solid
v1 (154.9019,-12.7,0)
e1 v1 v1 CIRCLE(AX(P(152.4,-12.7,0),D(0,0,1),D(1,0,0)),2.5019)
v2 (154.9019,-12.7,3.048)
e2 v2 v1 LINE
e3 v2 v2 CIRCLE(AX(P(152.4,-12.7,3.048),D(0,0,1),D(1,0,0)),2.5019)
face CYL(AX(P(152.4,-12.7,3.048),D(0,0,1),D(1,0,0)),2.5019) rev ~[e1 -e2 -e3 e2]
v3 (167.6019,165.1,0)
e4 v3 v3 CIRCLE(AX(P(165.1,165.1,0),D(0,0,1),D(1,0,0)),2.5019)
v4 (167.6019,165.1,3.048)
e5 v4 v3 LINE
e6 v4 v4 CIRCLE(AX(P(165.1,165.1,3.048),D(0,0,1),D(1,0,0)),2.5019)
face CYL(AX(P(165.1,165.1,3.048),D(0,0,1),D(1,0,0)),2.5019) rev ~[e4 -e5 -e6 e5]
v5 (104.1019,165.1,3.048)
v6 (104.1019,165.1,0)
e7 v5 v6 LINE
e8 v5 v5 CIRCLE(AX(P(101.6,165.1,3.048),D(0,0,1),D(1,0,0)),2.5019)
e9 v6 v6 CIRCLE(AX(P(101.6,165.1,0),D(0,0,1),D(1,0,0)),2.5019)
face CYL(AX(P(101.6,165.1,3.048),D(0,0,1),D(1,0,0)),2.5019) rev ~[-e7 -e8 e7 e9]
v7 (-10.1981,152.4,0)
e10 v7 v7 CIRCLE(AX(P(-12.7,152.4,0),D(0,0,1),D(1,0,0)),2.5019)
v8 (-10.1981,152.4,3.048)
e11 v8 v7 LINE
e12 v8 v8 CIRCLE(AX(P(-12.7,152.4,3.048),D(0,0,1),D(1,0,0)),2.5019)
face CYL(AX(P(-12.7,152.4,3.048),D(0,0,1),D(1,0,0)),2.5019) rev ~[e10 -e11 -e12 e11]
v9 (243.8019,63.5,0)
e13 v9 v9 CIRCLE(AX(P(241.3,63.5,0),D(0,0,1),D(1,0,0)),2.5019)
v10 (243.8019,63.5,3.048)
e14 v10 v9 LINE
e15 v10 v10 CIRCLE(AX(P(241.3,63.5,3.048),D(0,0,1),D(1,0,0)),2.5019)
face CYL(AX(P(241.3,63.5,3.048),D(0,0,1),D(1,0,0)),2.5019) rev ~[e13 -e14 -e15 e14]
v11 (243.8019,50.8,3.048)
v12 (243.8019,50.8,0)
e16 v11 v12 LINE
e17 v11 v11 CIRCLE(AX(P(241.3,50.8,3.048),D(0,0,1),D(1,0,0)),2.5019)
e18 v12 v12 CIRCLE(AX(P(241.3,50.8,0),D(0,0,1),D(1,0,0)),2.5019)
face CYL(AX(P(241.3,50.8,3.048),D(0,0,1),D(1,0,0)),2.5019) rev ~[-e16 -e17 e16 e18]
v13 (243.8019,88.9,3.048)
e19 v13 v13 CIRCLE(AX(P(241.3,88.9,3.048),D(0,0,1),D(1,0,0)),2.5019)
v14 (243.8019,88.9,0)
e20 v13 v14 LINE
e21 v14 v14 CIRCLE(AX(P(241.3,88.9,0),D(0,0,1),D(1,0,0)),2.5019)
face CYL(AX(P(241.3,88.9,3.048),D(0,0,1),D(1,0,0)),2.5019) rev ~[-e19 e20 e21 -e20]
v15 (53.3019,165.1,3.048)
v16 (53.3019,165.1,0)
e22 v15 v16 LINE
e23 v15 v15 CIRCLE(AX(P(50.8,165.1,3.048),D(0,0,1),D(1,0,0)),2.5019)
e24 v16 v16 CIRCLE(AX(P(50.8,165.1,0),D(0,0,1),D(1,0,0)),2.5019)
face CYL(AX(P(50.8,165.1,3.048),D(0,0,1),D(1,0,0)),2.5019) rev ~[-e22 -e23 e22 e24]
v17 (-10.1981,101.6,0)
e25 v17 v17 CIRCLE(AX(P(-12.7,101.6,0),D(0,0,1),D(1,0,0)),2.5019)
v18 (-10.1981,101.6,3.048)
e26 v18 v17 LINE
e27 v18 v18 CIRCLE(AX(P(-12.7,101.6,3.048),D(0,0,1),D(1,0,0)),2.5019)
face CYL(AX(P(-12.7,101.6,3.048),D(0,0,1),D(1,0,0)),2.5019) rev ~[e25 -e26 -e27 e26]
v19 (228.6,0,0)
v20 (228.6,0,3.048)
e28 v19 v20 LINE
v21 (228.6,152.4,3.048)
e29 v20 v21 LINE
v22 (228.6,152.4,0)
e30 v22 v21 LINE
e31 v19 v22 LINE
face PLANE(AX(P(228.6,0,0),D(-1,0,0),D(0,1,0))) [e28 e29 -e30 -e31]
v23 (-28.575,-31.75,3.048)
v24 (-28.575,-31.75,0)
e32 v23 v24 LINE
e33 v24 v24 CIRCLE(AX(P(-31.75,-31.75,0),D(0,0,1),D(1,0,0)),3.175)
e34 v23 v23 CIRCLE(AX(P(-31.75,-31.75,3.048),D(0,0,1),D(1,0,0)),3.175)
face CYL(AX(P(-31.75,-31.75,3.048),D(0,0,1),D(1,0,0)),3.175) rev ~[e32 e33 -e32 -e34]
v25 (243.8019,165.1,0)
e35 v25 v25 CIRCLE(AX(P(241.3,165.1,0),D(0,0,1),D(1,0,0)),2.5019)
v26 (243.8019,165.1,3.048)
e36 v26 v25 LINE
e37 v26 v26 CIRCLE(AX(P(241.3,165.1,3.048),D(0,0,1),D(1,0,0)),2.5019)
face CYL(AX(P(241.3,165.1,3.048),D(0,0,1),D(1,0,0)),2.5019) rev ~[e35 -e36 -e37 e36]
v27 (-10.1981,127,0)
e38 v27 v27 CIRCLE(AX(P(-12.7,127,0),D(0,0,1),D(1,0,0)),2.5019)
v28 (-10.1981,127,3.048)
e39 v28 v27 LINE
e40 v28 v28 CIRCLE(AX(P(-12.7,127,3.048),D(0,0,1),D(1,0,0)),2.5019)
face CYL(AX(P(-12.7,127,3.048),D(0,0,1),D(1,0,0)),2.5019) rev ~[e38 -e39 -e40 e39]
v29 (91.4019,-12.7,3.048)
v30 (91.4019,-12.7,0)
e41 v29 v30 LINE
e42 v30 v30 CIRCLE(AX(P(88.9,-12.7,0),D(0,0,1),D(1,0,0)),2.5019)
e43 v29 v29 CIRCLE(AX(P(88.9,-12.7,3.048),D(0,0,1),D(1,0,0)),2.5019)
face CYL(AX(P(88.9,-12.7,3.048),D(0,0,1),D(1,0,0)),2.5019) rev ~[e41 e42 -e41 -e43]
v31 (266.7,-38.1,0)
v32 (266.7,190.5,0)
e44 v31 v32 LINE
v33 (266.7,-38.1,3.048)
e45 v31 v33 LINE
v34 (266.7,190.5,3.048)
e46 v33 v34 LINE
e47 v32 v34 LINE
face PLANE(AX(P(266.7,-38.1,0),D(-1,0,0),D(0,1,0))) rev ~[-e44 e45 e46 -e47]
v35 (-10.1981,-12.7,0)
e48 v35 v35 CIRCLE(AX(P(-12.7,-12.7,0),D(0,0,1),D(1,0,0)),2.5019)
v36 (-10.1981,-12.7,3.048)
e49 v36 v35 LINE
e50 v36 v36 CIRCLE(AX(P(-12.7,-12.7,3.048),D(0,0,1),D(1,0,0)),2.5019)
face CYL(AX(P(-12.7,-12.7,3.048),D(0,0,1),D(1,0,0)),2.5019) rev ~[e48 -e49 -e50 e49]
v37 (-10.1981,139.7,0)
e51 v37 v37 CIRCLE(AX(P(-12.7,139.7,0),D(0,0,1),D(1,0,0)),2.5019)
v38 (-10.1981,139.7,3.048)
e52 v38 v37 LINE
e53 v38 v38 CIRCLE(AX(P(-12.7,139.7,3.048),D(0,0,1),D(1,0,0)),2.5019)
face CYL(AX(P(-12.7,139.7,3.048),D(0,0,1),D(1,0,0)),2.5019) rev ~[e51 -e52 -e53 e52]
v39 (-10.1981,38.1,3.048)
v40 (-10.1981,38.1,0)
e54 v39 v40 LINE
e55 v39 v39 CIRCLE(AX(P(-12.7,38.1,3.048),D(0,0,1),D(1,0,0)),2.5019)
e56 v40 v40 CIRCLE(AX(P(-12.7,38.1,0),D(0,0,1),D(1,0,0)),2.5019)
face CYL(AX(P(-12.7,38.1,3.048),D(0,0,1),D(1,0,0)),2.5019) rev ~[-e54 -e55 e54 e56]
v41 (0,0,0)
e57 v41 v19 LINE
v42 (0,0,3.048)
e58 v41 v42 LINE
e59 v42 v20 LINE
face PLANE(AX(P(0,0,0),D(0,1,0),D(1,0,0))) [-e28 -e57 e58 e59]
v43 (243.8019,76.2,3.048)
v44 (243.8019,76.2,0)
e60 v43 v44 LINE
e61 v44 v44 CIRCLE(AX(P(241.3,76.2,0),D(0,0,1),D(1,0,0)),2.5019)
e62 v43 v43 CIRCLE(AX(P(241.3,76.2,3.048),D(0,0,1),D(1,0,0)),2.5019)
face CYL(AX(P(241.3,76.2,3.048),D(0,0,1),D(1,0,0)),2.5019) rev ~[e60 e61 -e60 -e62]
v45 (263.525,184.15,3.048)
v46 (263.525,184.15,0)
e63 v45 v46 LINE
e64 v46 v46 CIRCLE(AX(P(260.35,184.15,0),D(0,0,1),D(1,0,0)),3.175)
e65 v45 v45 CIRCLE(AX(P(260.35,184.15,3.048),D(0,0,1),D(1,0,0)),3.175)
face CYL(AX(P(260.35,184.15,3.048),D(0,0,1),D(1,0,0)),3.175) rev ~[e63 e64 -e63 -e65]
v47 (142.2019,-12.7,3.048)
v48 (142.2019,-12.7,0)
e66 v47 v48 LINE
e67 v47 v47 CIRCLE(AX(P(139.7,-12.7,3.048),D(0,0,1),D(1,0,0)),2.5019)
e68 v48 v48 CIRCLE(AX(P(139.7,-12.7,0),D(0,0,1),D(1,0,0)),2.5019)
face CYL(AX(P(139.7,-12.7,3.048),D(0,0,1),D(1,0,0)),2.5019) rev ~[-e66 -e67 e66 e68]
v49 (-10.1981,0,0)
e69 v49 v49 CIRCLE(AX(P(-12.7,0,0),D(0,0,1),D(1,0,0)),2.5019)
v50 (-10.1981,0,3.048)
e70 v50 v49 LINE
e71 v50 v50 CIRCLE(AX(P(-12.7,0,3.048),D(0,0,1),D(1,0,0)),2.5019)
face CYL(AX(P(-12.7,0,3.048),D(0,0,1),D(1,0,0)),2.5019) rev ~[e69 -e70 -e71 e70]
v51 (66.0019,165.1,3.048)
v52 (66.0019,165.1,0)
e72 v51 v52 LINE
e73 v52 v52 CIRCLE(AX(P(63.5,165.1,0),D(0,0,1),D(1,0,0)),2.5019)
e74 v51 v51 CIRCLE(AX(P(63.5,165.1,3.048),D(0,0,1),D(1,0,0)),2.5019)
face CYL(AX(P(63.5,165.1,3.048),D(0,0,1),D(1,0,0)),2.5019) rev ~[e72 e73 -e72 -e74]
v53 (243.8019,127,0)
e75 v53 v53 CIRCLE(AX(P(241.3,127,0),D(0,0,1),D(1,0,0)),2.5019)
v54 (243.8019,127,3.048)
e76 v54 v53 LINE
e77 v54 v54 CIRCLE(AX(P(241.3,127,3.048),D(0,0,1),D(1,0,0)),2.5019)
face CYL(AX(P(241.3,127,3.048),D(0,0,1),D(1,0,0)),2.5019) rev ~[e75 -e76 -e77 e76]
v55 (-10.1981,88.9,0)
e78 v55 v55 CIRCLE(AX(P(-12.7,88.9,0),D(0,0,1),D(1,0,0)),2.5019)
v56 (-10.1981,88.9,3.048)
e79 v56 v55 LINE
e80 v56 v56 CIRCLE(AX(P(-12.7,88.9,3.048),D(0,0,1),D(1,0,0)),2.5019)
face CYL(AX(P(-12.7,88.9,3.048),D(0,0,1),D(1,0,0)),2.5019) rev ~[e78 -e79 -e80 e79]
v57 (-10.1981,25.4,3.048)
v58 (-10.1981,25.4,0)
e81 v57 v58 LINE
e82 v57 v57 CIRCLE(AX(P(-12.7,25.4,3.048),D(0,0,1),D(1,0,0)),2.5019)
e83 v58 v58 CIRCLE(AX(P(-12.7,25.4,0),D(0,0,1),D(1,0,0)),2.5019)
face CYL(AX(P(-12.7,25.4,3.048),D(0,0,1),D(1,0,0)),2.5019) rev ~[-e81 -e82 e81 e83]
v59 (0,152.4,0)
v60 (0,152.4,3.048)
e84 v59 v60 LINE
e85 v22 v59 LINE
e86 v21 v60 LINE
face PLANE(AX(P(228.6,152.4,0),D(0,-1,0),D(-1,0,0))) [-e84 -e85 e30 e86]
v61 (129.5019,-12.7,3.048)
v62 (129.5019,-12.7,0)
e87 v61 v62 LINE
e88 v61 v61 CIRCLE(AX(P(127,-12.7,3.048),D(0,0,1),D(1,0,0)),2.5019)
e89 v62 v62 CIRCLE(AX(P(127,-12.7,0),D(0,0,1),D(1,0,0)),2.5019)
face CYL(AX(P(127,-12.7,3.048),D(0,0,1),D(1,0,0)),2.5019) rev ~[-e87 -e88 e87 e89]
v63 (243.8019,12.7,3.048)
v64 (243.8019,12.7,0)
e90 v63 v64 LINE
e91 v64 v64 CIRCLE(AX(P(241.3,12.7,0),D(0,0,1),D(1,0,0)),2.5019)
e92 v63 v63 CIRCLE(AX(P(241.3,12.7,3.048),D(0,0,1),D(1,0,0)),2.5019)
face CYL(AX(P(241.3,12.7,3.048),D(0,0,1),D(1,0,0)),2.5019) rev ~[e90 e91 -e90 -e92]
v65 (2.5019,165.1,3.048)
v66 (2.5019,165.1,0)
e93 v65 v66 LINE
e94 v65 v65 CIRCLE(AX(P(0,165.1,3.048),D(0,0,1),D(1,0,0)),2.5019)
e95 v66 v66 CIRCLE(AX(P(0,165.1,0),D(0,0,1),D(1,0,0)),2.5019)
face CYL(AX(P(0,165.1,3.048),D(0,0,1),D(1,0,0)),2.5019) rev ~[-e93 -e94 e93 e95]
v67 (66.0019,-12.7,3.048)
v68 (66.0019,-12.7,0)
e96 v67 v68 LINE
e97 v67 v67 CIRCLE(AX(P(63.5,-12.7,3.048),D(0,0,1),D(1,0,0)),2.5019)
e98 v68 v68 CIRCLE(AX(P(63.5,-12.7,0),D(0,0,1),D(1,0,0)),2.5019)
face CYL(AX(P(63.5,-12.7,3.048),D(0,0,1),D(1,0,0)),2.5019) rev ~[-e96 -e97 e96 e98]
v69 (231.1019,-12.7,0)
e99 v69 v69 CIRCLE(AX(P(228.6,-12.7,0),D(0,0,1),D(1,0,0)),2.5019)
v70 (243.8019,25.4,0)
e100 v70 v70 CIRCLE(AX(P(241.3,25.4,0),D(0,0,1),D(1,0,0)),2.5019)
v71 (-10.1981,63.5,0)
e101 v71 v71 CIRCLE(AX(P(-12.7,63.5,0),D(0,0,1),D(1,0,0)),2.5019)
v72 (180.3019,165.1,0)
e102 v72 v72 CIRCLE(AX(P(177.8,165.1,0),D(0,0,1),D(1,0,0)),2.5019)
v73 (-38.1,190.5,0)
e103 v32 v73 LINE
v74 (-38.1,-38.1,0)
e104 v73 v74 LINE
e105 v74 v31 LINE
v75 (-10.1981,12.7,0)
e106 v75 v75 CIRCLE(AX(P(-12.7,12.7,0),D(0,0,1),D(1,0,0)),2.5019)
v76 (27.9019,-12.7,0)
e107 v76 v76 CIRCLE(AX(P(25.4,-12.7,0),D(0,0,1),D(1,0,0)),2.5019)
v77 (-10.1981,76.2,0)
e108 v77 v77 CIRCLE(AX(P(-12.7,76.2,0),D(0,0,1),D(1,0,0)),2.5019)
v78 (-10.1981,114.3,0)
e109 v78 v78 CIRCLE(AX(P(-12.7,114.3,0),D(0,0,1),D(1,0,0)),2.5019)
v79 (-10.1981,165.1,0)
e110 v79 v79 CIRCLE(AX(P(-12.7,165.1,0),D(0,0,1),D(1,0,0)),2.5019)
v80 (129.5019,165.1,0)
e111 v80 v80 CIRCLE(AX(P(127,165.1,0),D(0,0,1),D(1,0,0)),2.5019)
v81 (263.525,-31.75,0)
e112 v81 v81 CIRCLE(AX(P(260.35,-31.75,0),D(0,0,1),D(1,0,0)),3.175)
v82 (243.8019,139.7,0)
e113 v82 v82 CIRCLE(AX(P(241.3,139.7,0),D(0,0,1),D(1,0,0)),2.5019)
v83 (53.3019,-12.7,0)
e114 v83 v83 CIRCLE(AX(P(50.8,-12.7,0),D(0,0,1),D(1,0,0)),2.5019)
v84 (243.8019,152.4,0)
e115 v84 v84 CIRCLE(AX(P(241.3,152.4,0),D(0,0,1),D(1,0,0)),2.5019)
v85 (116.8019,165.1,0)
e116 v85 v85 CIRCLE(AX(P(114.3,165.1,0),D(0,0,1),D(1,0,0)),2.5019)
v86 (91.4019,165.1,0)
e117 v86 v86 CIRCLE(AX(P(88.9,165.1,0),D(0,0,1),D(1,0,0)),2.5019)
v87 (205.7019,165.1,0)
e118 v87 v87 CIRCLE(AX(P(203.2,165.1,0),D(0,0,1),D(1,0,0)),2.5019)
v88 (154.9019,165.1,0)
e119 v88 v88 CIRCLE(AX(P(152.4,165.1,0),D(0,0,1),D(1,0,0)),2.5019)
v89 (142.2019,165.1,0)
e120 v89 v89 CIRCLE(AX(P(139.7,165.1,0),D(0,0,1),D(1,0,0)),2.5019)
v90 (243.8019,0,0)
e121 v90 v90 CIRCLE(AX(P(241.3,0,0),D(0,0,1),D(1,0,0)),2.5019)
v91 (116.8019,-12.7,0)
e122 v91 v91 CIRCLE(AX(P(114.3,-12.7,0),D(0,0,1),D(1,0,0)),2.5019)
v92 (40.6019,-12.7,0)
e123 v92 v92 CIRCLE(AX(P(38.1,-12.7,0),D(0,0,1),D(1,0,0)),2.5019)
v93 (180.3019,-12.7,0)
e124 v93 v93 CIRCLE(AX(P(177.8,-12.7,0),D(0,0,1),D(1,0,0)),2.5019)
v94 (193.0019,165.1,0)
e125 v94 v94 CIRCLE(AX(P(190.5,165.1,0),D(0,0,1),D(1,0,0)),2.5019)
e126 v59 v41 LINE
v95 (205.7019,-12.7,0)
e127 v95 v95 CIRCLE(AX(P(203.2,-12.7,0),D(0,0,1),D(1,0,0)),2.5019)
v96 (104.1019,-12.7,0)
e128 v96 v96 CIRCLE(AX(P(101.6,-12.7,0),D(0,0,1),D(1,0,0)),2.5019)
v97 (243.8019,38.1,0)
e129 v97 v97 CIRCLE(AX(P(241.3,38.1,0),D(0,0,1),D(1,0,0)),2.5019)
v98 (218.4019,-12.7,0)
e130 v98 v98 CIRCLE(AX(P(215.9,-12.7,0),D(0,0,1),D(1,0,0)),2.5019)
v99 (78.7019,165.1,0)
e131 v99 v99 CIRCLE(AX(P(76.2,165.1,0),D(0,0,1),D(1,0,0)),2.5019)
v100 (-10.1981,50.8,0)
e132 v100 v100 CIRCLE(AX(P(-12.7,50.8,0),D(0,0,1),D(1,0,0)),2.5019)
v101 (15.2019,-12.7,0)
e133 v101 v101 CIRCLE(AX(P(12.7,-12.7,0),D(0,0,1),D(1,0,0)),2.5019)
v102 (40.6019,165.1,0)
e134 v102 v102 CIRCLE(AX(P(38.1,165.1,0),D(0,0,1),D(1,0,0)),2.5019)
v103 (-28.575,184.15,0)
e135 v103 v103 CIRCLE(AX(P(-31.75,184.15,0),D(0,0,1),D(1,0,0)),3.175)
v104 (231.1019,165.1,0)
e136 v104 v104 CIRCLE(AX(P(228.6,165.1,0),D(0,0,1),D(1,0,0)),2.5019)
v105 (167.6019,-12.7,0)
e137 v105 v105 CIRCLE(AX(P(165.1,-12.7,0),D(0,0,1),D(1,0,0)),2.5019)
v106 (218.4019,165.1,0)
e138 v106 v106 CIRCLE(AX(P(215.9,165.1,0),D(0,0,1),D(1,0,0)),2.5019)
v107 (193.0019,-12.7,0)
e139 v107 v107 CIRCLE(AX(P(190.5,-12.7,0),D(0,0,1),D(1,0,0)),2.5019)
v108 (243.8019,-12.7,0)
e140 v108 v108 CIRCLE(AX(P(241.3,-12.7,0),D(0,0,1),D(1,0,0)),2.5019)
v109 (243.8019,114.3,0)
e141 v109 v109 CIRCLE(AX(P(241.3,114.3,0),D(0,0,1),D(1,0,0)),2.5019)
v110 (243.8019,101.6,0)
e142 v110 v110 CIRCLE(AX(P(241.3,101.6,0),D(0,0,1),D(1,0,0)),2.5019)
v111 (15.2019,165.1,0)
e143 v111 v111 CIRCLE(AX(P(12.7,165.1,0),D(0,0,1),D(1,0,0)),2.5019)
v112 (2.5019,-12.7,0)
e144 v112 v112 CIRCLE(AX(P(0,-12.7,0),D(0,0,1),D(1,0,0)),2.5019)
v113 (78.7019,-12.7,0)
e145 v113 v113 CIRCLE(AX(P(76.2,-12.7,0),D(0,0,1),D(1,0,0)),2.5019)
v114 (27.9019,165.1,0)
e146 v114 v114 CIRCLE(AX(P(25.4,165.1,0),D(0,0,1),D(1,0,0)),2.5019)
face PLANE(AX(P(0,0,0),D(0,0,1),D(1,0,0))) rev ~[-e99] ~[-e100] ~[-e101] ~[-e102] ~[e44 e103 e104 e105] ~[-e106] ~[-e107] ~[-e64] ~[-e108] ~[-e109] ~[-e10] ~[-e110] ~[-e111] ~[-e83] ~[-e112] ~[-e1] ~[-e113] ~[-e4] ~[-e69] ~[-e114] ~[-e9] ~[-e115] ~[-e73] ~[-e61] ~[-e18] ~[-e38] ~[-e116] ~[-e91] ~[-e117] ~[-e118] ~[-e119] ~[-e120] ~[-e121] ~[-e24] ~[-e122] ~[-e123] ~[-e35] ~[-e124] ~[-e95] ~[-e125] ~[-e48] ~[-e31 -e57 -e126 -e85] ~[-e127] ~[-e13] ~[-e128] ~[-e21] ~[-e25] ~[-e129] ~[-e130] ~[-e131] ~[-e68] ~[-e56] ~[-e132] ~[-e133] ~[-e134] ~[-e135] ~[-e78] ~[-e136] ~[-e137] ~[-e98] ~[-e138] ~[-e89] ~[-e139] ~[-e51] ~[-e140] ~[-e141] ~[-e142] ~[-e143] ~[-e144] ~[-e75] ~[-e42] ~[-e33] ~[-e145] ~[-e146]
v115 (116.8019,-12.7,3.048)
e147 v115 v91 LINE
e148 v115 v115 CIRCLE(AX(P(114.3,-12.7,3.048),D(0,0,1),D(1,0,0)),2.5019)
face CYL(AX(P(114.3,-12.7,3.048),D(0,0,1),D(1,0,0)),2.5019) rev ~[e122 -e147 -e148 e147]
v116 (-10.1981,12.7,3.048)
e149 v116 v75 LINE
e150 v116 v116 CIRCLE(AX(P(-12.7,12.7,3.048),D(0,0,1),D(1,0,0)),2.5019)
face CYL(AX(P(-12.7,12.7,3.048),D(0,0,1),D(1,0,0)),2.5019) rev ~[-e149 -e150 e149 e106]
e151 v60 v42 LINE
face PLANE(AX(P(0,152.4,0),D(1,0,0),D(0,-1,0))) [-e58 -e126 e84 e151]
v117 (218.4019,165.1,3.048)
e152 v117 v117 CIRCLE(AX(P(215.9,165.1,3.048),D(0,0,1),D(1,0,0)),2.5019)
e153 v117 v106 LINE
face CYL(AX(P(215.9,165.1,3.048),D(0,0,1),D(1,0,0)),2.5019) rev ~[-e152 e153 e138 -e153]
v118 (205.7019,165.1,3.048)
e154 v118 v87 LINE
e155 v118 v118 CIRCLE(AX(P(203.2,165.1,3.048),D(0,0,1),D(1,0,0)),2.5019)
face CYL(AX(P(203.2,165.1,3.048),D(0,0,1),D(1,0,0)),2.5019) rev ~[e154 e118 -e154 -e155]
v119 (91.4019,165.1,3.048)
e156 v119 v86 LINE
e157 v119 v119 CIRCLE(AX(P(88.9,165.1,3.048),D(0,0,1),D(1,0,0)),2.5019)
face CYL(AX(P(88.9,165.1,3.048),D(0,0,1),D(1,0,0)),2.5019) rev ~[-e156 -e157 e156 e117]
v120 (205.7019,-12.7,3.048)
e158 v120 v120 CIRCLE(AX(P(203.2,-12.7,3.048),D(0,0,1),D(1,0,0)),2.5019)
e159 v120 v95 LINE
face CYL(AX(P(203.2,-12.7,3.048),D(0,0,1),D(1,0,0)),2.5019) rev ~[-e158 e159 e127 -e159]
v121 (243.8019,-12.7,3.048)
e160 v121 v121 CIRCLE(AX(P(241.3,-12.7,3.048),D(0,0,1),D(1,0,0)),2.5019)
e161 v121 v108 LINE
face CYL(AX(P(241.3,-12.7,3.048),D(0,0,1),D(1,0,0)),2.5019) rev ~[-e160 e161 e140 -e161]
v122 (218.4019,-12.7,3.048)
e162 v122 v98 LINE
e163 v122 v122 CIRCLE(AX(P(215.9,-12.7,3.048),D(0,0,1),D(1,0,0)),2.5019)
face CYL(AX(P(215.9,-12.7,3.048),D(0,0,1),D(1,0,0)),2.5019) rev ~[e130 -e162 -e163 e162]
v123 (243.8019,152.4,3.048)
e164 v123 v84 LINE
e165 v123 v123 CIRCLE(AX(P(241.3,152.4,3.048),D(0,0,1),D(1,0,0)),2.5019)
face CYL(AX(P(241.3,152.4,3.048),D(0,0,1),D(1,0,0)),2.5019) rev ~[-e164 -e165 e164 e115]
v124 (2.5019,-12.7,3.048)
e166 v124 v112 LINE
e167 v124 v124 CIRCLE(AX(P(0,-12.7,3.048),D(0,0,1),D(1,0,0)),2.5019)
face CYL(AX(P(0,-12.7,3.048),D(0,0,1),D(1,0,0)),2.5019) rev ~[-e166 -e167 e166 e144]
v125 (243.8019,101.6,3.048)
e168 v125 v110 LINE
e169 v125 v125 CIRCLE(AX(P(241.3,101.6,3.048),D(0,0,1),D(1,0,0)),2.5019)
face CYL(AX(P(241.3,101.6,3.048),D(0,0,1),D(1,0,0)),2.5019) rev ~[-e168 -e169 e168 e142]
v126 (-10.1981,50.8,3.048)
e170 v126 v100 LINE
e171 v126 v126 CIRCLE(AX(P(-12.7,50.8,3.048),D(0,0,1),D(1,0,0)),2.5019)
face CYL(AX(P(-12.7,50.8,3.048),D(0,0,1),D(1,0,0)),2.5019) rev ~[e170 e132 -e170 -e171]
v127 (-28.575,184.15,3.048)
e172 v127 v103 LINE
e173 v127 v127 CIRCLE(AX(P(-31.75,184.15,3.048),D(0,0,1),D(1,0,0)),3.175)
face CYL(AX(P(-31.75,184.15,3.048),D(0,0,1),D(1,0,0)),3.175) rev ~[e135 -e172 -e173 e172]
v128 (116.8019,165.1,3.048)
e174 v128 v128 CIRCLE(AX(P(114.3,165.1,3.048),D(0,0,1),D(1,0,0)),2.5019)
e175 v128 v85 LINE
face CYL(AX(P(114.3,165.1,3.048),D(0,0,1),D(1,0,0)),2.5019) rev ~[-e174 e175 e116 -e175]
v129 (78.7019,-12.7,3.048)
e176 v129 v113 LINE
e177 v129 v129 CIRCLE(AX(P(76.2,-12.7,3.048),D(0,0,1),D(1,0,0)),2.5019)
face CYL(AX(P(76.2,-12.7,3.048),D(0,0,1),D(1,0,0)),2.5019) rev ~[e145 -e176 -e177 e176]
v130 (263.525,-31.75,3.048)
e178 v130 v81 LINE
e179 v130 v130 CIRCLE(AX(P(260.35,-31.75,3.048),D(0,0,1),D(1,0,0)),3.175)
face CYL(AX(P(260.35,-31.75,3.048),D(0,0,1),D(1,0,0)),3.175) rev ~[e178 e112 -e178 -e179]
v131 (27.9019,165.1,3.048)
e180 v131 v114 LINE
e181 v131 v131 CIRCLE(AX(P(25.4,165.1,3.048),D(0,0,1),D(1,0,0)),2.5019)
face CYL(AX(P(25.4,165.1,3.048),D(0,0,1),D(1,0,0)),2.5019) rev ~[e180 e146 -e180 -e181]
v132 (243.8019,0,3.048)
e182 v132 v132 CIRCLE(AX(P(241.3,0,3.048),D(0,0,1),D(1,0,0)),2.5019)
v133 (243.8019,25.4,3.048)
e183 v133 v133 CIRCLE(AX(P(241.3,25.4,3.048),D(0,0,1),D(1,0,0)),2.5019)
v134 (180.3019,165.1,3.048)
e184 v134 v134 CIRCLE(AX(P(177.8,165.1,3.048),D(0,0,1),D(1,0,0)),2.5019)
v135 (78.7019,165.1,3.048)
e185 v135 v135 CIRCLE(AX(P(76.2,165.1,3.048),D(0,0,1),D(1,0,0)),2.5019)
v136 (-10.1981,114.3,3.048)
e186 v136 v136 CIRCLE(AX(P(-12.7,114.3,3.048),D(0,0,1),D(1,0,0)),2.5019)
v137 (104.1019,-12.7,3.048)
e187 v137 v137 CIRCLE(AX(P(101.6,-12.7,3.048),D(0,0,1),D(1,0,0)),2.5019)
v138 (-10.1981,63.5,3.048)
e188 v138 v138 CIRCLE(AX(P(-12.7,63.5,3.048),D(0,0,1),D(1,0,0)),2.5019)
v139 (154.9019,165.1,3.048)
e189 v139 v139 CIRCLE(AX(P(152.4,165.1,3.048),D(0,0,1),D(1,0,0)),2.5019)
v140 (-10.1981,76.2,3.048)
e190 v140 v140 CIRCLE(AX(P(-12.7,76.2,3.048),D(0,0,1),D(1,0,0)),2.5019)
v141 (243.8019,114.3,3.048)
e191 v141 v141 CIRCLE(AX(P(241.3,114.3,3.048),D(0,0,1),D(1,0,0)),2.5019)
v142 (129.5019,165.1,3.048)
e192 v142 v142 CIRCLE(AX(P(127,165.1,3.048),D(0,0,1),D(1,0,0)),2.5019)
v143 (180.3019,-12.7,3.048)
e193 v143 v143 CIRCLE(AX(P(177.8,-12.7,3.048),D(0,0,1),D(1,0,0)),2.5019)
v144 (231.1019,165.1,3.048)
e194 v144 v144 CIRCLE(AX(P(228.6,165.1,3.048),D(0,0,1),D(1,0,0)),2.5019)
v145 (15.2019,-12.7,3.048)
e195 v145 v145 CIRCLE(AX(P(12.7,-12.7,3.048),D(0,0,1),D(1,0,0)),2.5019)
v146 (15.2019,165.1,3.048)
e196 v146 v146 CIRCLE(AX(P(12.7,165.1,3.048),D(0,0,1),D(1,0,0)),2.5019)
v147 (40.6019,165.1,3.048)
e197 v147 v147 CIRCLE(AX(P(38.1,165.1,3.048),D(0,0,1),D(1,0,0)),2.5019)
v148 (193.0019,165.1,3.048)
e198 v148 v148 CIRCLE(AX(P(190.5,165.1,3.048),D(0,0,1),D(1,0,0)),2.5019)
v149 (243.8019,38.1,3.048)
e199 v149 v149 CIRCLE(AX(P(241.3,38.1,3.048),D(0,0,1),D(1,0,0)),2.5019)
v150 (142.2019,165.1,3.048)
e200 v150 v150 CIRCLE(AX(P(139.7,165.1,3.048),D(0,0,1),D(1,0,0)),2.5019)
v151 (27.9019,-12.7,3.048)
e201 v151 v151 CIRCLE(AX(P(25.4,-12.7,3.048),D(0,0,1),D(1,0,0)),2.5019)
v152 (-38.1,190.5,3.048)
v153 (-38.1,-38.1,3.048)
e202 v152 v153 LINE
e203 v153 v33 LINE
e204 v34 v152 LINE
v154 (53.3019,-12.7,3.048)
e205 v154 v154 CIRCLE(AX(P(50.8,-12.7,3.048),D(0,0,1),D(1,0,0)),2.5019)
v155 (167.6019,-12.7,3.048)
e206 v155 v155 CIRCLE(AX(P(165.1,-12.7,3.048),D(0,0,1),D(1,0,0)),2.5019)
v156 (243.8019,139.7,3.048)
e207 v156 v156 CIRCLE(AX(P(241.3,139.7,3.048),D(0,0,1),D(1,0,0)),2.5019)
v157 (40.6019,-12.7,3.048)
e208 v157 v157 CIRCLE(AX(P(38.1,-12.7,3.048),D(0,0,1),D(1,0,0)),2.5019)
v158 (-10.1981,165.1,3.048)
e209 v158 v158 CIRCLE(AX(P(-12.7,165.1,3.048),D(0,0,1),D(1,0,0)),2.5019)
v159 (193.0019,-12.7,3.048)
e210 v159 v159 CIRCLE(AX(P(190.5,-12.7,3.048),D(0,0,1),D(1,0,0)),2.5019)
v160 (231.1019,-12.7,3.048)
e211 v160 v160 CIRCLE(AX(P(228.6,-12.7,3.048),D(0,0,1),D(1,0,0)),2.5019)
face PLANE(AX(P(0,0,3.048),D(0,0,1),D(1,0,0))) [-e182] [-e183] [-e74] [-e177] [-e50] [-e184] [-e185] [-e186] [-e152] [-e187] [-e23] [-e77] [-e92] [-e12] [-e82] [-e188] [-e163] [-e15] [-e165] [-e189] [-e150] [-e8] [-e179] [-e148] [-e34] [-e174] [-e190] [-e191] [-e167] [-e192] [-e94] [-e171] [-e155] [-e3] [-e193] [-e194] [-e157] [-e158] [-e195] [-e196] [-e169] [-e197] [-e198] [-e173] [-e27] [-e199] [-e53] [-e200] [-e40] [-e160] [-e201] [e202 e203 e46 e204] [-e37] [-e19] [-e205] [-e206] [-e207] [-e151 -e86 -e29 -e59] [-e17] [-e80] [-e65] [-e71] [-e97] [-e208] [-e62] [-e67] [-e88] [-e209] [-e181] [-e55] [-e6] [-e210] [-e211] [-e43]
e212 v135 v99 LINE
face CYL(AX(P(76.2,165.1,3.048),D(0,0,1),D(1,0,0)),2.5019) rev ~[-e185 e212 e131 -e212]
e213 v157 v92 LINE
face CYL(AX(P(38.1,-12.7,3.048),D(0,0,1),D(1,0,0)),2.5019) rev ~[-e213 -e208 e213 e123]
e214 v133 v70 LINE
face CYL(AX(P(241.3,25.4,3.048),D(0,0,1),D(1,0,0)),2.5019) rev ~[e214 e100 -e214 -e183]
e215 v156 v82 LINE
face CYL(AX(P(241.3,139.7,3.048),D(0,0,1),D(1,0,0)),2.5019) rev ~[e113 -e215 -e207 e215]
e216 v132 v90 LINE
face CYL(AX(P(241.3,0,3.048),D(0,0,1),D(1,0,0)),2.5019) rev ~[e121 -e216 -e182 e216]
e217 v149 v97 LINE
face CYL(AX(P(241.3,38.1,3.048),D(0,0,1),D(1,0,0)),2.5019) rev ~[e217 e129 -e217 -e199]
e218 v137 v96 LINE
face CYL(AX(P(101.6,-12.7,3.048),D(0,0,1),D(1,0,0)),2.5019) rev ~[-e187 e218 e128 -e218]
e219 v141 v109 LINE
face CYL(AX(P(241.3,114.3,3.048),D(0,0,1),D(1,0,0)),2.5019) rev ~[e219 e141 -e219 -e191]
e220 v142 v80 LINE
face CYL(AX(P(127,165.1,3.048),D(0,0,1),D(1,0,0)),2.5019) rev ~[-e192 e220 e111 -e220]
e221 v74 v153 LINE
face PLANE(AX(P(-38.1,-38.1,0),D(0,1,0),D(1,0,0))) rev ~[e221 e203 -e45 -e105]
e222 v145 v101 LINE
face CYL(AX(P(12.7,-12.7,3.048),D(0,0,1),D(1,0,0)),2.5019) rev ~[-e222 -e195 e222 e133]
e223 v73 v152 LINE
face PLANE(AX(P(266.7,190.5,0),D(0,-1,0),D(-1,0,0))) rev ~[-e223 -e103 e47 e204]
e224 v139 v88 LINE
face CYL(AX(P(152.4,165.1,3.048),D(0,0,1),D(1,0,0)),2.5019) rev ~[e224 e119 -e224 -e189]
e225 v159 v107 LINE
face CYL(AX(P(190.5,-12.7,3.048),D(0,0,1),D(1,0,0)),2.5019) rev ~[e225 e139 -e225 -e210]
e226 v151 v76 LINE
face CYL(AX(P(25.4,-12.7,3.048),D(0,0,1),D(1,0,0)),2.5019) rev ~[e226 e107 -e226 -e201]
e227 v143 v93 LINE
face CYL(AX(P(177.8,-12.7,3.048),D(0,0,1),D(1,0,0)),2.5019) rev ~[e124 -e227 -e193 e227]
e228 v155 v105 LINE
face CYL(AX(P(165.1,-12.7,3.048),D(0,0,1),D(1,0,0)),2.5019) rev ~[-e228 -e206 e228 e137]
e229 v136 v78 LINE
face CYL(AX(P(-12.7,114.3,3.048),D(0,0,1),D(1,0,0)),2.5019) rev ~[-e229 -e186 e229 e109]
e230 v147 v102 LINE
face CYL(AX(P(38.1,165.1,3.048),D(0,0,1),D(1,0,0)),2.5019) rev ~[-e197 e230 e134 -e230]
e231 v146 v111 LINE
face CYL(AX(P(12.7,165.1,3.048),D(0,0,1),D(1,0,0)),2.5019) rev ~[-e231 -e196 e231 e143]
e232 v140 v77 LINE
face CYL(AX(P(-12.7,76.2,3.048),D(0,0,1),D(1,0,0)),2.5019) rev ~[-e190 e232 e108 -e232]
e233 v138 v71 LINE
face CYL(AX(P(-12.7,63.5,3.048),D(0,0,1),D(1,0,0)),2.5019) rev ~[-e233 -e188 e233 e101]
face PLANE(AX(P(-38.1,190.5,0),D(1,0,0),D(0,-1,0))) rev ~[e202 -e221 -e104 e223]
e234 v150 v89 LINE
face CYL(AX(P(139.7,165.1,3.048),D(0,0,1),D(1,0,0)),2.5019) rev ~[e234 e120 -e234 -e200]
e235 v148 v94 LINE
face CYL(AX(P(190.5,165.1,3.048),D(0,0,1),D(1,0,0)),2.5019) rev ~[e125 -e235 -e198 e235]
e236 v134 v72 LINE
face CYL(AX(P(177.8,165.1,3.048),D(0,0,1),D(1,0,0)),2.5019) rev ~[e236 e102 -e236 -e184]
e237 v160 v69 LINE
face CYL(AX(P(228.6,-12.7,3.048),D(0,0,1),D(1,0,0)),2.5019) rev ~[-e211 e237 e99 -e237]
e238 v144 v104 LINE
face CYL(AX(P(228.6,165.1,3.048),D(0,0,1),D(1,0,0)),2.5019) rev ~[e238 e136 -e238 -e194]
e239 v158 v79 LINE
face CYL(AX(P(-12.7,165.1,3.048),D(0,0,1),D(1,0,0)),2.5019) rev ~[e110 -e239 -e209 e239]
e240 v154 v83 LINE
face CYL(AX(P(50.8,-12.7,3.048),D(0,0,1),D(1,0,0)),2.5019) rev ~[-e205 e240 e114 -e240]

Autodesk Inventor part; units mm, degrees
ref_plane "YZ Plane" through (0, 0, 0) normal (1, 0, 0) x (0, 1, 0)
ref_plane "XZ Plane" through (0, 0, 0) normal (0, 1, 0) x (-1, 0, 0)
ref_plane "XY Plane" through (0, 0, 0) normal (0, 0, 1) x (1, 0, 0)
sketch "Sketch1" plane through (0, 0, 0) normal (0, 0, 1) x (1, 0, 0)
  line L0 (0, 0) -> (228.6, 0)
  line L1 (228.6, 0) -> (228.6, 152.4)
  line L2 (228.6, 152.4) -> (0, 152.4)
  line L3 (0, 152.4) -> (0, 0)
  line L4 (-38.1, -38.1) -> (266.7, -38.1)
  line L5 (266.7, -38.1) -> (266.7, 190.5)
  line L6 (266.7, 190.5) -> (-38.1, 190.5)
  line L7 (-38.1, 190.5) -> (-38.1, -38.1)
  dimension "d0" = 228.6
  dimension "d1" = 152.4
  dimension "d2" = 38.1
extrude "Plate1" add sketch "Sketch1" along normal blind 3.048
sketch "Sketch2" plane through (0, 0, 3.048) normal (0, 0, 1) x (1, 0, 0)
  circle A0 centre (-12.7, -12.7) radius 2.5019
  line L0 (-38.1, -38.1) -> (-38.1, 190.5) projected
  line L1 (228.6, 0) -> (0, 0) projected
  line L2 (0, 0) -> (0, 152.4) projected
  circle A1 centre (0, -12.7) radius 2.5019
  circle A2 centre (12.7, -12.7) radius 2.5019
  circle A3 centre (25.4, -12.7) radius 2.5019
  circle A4 centre (38.1, -12.7) radius 2.5019
  circle A5 centre (50.8, -12.7) radius 2.5019
  circle A6 centre (63.5, -12.7) radius 2.5019
  circle A7 centre (76.2, -12.7) radius 2.5019
  circle A8 centre (88.9, -12.7) radius 2.5019
  circle A9 centre (101.6, -12.7) radius 2.5019
  circle A10 centre (114.3, -12.7) radius 2.5019
  circle A11 centre (127, -12.7) radius 2.5019
  circle A12 centre (139.7, -12.7) radius 2.5019
  circle A13 centre (152.4, -12.7) radius 2.5019
  circle A14 centre (165.1, -12.7) radius 2.5019
  circle A15 centre (177.8, -12.7) radius 2.5019
  circle A16 centre (190.5, -12.7) radius 2.5019
  circle A17 centre (203.2, -12.7) radius 2.5019
  circle A18 centre (215.9, -12.7) radius 2.5019
  circle A19 centre (241.3, -12.7) radius 2.5019
  circle A20 centre (241.3, 0) radius 2.5019
  circle A21 centre (241.3, 12.7) radius 2.5019
  circle A22 centre (241.3, 25.4) radius 2.5019
  circle A23 centre (241.3, 38.1) radius 2.5019
  circle A24 centre (241.3, 50.8) radius 2.5019
  circle A25 centre (241.3, 63.5) radius 2.5019
  circle A26 centre (241.3, 76.2) radius 2.5019
  circle A27 centre (241.3, 88.9) radius 2.5019
  circle A28 centre (241.3, 101.6) radius 2.5019
  circle A29 centre (241.3, 114.3) radius 2.5019
  circle A30 centre (241.3, 127) radius 2.5019
  circle A31 centre (241.3, 165.1) radius 2.5019
  line L3 (0, 152.4) -> (228.6, 152.4) projected
  circle A32 centre (241.3, 139.7) radius 2.5019
  circle A33 centre (228.6, 165.1) radius 2.5019
  circle A34 centre (215.9, 165.1) radius 2.5019
  circle A35 centre (203.2, 165.1) radius 2.5019
  circle A36 centre (190.5, 165.1) radius 2.5019
  circle A37 centre (177.8, 165.1) radius 2.5019
  circle A38 centre (165.1, 165.1) radius 2.5019
  circle A39 centre (152.4, 165.1) radius 2.5019
  circle A40 centre (139.7, 165.1) radius 2.5019
  circle A41 centre (127, 165.1) radius 2.5019
  circle A42 centre (114.3, 165.1) radius 2.5019
  circle A43 centre (101.6, 165.1) radius 2.5019
  circle A44 centre (88.9, 165.1) radius 2.5019
  circle A45 centre (76.2, 165.1) radius 2.5019
  circle A46 centre (63.5, 165.1) radius 2.5019
  circle A47 centre (50.8, 165.1) radius 2.5019
  circle A48 centre (38.1, 165.1) radius 2.5019
  circle A49 centre (25.4, 165.1) radius 2.5019
  circle A50 centre (12.7, 165.1) radius 2.5019
  circle A51 centre (-12.7, 165.1) radius 2.5019
  circle A52 centre (-12.7, 152.4) radius 2.5019
  circle A53 centre (-12.7, 139.7) radius 2.5019
  circle A54 centre (-12.7, 127) radius 2.5019
  circle A55 centre (-12.7, 114.3) radius 2.5019
  circle A56 centre (-12.7, 101.6) radius 2.5019
  circle A57 centre (-12.7, 88.9) radius 2.5019
  circle A58 centre (-12.7, 76.2) radius 2.5019
  circle A59 centre (-12.7, 63.5) radius 2.5019
  circle A60 centre (-12.7, 50.8) radius 2.5019
  circle A61 centre (-12.7, 38.1) radius 2.5019
  circle A62 centre (-12.7, 25.4) radius 2.5019
  circle A63 centre (-12.7, 12.7) radius 2.5019
  circle A64 centre (-12.7, 0) radius 2.5019
  circle A65 centre (0, 165.1) radius 2.5019
  circle A66 centre (241.3, 152.4) radius 2.5019
  circle A67 centre (228.6, -12.7) radius 2.5019
  dimension "d4" = 5.0038
  dimension "d6" = 12.7
  dimension "d7" = 12.7
  dimension "d10" = 12.7
  dimension "d17" = 5.0038
  dimension "d18" = 25.4
  dimension "d19" = 12.7
  dimension "d22" = 12.7
  dimension "d27" = 5.0038
  dimension "d30" = 25.4
  dimension "d31" = 12.7
  dimension "d34" = 12.7
  dimension "d39" = 5.0038
  dimension "d40" = 25.4
  dimension "d41" = 12.7
  dimension "d44" = 12.7
extrude "Extrusion1" cut sketch "Sketch2" against normal blind 25.4
sketch "Sketch3" plane through (0, 0, 3.048) normal (0, 0, 1) x (1, 0, 0)
  circle A0 centre (-31.75, -31.75) radius 3.175
  line L0 (-38.1, -38.1) -> (-38.1, 190.5) projected
  line L1 (266.7, -38.1) -> (-38.1, -38.1) projected
  circle A1 centre (-31.75, 184.15) radius 3.175
  line L2 (-38.1, 190.5) -> (266.7, 190.5) projected
  circle A2 centre (260.35, 184.15) radius 3.175
  line L3 (266.7, 190.5) -> (266.7, -38.1) projected
  circle A3 centre (260.35, -31.75) radius 3.175
  point P0 (0, 0)
  dimension "d49" = 6.35
  dimension "d50" = 6.35
  dimension "d51" = 6.35
  dimension "d52" = 6.35
  dimension "d53" = 6.35
  dimension "d54" = 6.35
  dimension "d55" = 6.35
  dimension "d56" = 6.35
  dimension "d57" = 6.35
  dimension "d58" = 6.35
  dimension "d59" = 6.35
  dimension "d60" = 6.35
extrude "Extrusion2" cut sketch "Sketch3" against normal blind 25.4 contours A0 | A1 | A2 | A3
equation "\"d3\" = Thickness"
equation "\"BendRadius\" = Thickness"
equation "\"BendReliefWidth\" = Thickness"
equation "\"BendReliefDepth\" = 0.5 * Thickness"
equation "\"CornerReliefSize\" = 4 * Thickness"
equation "\"MinimumRemnant\" = 2 * Thickness"
equation "\"TransitionRadius\" = BendRadius"
equation "\"JacobiRadiusSize\" = BendRadius"
equation "\"GapSize\" = Thickness"
equation "\"Thickness\" = 3.048"
properties part number "Middle plate"
